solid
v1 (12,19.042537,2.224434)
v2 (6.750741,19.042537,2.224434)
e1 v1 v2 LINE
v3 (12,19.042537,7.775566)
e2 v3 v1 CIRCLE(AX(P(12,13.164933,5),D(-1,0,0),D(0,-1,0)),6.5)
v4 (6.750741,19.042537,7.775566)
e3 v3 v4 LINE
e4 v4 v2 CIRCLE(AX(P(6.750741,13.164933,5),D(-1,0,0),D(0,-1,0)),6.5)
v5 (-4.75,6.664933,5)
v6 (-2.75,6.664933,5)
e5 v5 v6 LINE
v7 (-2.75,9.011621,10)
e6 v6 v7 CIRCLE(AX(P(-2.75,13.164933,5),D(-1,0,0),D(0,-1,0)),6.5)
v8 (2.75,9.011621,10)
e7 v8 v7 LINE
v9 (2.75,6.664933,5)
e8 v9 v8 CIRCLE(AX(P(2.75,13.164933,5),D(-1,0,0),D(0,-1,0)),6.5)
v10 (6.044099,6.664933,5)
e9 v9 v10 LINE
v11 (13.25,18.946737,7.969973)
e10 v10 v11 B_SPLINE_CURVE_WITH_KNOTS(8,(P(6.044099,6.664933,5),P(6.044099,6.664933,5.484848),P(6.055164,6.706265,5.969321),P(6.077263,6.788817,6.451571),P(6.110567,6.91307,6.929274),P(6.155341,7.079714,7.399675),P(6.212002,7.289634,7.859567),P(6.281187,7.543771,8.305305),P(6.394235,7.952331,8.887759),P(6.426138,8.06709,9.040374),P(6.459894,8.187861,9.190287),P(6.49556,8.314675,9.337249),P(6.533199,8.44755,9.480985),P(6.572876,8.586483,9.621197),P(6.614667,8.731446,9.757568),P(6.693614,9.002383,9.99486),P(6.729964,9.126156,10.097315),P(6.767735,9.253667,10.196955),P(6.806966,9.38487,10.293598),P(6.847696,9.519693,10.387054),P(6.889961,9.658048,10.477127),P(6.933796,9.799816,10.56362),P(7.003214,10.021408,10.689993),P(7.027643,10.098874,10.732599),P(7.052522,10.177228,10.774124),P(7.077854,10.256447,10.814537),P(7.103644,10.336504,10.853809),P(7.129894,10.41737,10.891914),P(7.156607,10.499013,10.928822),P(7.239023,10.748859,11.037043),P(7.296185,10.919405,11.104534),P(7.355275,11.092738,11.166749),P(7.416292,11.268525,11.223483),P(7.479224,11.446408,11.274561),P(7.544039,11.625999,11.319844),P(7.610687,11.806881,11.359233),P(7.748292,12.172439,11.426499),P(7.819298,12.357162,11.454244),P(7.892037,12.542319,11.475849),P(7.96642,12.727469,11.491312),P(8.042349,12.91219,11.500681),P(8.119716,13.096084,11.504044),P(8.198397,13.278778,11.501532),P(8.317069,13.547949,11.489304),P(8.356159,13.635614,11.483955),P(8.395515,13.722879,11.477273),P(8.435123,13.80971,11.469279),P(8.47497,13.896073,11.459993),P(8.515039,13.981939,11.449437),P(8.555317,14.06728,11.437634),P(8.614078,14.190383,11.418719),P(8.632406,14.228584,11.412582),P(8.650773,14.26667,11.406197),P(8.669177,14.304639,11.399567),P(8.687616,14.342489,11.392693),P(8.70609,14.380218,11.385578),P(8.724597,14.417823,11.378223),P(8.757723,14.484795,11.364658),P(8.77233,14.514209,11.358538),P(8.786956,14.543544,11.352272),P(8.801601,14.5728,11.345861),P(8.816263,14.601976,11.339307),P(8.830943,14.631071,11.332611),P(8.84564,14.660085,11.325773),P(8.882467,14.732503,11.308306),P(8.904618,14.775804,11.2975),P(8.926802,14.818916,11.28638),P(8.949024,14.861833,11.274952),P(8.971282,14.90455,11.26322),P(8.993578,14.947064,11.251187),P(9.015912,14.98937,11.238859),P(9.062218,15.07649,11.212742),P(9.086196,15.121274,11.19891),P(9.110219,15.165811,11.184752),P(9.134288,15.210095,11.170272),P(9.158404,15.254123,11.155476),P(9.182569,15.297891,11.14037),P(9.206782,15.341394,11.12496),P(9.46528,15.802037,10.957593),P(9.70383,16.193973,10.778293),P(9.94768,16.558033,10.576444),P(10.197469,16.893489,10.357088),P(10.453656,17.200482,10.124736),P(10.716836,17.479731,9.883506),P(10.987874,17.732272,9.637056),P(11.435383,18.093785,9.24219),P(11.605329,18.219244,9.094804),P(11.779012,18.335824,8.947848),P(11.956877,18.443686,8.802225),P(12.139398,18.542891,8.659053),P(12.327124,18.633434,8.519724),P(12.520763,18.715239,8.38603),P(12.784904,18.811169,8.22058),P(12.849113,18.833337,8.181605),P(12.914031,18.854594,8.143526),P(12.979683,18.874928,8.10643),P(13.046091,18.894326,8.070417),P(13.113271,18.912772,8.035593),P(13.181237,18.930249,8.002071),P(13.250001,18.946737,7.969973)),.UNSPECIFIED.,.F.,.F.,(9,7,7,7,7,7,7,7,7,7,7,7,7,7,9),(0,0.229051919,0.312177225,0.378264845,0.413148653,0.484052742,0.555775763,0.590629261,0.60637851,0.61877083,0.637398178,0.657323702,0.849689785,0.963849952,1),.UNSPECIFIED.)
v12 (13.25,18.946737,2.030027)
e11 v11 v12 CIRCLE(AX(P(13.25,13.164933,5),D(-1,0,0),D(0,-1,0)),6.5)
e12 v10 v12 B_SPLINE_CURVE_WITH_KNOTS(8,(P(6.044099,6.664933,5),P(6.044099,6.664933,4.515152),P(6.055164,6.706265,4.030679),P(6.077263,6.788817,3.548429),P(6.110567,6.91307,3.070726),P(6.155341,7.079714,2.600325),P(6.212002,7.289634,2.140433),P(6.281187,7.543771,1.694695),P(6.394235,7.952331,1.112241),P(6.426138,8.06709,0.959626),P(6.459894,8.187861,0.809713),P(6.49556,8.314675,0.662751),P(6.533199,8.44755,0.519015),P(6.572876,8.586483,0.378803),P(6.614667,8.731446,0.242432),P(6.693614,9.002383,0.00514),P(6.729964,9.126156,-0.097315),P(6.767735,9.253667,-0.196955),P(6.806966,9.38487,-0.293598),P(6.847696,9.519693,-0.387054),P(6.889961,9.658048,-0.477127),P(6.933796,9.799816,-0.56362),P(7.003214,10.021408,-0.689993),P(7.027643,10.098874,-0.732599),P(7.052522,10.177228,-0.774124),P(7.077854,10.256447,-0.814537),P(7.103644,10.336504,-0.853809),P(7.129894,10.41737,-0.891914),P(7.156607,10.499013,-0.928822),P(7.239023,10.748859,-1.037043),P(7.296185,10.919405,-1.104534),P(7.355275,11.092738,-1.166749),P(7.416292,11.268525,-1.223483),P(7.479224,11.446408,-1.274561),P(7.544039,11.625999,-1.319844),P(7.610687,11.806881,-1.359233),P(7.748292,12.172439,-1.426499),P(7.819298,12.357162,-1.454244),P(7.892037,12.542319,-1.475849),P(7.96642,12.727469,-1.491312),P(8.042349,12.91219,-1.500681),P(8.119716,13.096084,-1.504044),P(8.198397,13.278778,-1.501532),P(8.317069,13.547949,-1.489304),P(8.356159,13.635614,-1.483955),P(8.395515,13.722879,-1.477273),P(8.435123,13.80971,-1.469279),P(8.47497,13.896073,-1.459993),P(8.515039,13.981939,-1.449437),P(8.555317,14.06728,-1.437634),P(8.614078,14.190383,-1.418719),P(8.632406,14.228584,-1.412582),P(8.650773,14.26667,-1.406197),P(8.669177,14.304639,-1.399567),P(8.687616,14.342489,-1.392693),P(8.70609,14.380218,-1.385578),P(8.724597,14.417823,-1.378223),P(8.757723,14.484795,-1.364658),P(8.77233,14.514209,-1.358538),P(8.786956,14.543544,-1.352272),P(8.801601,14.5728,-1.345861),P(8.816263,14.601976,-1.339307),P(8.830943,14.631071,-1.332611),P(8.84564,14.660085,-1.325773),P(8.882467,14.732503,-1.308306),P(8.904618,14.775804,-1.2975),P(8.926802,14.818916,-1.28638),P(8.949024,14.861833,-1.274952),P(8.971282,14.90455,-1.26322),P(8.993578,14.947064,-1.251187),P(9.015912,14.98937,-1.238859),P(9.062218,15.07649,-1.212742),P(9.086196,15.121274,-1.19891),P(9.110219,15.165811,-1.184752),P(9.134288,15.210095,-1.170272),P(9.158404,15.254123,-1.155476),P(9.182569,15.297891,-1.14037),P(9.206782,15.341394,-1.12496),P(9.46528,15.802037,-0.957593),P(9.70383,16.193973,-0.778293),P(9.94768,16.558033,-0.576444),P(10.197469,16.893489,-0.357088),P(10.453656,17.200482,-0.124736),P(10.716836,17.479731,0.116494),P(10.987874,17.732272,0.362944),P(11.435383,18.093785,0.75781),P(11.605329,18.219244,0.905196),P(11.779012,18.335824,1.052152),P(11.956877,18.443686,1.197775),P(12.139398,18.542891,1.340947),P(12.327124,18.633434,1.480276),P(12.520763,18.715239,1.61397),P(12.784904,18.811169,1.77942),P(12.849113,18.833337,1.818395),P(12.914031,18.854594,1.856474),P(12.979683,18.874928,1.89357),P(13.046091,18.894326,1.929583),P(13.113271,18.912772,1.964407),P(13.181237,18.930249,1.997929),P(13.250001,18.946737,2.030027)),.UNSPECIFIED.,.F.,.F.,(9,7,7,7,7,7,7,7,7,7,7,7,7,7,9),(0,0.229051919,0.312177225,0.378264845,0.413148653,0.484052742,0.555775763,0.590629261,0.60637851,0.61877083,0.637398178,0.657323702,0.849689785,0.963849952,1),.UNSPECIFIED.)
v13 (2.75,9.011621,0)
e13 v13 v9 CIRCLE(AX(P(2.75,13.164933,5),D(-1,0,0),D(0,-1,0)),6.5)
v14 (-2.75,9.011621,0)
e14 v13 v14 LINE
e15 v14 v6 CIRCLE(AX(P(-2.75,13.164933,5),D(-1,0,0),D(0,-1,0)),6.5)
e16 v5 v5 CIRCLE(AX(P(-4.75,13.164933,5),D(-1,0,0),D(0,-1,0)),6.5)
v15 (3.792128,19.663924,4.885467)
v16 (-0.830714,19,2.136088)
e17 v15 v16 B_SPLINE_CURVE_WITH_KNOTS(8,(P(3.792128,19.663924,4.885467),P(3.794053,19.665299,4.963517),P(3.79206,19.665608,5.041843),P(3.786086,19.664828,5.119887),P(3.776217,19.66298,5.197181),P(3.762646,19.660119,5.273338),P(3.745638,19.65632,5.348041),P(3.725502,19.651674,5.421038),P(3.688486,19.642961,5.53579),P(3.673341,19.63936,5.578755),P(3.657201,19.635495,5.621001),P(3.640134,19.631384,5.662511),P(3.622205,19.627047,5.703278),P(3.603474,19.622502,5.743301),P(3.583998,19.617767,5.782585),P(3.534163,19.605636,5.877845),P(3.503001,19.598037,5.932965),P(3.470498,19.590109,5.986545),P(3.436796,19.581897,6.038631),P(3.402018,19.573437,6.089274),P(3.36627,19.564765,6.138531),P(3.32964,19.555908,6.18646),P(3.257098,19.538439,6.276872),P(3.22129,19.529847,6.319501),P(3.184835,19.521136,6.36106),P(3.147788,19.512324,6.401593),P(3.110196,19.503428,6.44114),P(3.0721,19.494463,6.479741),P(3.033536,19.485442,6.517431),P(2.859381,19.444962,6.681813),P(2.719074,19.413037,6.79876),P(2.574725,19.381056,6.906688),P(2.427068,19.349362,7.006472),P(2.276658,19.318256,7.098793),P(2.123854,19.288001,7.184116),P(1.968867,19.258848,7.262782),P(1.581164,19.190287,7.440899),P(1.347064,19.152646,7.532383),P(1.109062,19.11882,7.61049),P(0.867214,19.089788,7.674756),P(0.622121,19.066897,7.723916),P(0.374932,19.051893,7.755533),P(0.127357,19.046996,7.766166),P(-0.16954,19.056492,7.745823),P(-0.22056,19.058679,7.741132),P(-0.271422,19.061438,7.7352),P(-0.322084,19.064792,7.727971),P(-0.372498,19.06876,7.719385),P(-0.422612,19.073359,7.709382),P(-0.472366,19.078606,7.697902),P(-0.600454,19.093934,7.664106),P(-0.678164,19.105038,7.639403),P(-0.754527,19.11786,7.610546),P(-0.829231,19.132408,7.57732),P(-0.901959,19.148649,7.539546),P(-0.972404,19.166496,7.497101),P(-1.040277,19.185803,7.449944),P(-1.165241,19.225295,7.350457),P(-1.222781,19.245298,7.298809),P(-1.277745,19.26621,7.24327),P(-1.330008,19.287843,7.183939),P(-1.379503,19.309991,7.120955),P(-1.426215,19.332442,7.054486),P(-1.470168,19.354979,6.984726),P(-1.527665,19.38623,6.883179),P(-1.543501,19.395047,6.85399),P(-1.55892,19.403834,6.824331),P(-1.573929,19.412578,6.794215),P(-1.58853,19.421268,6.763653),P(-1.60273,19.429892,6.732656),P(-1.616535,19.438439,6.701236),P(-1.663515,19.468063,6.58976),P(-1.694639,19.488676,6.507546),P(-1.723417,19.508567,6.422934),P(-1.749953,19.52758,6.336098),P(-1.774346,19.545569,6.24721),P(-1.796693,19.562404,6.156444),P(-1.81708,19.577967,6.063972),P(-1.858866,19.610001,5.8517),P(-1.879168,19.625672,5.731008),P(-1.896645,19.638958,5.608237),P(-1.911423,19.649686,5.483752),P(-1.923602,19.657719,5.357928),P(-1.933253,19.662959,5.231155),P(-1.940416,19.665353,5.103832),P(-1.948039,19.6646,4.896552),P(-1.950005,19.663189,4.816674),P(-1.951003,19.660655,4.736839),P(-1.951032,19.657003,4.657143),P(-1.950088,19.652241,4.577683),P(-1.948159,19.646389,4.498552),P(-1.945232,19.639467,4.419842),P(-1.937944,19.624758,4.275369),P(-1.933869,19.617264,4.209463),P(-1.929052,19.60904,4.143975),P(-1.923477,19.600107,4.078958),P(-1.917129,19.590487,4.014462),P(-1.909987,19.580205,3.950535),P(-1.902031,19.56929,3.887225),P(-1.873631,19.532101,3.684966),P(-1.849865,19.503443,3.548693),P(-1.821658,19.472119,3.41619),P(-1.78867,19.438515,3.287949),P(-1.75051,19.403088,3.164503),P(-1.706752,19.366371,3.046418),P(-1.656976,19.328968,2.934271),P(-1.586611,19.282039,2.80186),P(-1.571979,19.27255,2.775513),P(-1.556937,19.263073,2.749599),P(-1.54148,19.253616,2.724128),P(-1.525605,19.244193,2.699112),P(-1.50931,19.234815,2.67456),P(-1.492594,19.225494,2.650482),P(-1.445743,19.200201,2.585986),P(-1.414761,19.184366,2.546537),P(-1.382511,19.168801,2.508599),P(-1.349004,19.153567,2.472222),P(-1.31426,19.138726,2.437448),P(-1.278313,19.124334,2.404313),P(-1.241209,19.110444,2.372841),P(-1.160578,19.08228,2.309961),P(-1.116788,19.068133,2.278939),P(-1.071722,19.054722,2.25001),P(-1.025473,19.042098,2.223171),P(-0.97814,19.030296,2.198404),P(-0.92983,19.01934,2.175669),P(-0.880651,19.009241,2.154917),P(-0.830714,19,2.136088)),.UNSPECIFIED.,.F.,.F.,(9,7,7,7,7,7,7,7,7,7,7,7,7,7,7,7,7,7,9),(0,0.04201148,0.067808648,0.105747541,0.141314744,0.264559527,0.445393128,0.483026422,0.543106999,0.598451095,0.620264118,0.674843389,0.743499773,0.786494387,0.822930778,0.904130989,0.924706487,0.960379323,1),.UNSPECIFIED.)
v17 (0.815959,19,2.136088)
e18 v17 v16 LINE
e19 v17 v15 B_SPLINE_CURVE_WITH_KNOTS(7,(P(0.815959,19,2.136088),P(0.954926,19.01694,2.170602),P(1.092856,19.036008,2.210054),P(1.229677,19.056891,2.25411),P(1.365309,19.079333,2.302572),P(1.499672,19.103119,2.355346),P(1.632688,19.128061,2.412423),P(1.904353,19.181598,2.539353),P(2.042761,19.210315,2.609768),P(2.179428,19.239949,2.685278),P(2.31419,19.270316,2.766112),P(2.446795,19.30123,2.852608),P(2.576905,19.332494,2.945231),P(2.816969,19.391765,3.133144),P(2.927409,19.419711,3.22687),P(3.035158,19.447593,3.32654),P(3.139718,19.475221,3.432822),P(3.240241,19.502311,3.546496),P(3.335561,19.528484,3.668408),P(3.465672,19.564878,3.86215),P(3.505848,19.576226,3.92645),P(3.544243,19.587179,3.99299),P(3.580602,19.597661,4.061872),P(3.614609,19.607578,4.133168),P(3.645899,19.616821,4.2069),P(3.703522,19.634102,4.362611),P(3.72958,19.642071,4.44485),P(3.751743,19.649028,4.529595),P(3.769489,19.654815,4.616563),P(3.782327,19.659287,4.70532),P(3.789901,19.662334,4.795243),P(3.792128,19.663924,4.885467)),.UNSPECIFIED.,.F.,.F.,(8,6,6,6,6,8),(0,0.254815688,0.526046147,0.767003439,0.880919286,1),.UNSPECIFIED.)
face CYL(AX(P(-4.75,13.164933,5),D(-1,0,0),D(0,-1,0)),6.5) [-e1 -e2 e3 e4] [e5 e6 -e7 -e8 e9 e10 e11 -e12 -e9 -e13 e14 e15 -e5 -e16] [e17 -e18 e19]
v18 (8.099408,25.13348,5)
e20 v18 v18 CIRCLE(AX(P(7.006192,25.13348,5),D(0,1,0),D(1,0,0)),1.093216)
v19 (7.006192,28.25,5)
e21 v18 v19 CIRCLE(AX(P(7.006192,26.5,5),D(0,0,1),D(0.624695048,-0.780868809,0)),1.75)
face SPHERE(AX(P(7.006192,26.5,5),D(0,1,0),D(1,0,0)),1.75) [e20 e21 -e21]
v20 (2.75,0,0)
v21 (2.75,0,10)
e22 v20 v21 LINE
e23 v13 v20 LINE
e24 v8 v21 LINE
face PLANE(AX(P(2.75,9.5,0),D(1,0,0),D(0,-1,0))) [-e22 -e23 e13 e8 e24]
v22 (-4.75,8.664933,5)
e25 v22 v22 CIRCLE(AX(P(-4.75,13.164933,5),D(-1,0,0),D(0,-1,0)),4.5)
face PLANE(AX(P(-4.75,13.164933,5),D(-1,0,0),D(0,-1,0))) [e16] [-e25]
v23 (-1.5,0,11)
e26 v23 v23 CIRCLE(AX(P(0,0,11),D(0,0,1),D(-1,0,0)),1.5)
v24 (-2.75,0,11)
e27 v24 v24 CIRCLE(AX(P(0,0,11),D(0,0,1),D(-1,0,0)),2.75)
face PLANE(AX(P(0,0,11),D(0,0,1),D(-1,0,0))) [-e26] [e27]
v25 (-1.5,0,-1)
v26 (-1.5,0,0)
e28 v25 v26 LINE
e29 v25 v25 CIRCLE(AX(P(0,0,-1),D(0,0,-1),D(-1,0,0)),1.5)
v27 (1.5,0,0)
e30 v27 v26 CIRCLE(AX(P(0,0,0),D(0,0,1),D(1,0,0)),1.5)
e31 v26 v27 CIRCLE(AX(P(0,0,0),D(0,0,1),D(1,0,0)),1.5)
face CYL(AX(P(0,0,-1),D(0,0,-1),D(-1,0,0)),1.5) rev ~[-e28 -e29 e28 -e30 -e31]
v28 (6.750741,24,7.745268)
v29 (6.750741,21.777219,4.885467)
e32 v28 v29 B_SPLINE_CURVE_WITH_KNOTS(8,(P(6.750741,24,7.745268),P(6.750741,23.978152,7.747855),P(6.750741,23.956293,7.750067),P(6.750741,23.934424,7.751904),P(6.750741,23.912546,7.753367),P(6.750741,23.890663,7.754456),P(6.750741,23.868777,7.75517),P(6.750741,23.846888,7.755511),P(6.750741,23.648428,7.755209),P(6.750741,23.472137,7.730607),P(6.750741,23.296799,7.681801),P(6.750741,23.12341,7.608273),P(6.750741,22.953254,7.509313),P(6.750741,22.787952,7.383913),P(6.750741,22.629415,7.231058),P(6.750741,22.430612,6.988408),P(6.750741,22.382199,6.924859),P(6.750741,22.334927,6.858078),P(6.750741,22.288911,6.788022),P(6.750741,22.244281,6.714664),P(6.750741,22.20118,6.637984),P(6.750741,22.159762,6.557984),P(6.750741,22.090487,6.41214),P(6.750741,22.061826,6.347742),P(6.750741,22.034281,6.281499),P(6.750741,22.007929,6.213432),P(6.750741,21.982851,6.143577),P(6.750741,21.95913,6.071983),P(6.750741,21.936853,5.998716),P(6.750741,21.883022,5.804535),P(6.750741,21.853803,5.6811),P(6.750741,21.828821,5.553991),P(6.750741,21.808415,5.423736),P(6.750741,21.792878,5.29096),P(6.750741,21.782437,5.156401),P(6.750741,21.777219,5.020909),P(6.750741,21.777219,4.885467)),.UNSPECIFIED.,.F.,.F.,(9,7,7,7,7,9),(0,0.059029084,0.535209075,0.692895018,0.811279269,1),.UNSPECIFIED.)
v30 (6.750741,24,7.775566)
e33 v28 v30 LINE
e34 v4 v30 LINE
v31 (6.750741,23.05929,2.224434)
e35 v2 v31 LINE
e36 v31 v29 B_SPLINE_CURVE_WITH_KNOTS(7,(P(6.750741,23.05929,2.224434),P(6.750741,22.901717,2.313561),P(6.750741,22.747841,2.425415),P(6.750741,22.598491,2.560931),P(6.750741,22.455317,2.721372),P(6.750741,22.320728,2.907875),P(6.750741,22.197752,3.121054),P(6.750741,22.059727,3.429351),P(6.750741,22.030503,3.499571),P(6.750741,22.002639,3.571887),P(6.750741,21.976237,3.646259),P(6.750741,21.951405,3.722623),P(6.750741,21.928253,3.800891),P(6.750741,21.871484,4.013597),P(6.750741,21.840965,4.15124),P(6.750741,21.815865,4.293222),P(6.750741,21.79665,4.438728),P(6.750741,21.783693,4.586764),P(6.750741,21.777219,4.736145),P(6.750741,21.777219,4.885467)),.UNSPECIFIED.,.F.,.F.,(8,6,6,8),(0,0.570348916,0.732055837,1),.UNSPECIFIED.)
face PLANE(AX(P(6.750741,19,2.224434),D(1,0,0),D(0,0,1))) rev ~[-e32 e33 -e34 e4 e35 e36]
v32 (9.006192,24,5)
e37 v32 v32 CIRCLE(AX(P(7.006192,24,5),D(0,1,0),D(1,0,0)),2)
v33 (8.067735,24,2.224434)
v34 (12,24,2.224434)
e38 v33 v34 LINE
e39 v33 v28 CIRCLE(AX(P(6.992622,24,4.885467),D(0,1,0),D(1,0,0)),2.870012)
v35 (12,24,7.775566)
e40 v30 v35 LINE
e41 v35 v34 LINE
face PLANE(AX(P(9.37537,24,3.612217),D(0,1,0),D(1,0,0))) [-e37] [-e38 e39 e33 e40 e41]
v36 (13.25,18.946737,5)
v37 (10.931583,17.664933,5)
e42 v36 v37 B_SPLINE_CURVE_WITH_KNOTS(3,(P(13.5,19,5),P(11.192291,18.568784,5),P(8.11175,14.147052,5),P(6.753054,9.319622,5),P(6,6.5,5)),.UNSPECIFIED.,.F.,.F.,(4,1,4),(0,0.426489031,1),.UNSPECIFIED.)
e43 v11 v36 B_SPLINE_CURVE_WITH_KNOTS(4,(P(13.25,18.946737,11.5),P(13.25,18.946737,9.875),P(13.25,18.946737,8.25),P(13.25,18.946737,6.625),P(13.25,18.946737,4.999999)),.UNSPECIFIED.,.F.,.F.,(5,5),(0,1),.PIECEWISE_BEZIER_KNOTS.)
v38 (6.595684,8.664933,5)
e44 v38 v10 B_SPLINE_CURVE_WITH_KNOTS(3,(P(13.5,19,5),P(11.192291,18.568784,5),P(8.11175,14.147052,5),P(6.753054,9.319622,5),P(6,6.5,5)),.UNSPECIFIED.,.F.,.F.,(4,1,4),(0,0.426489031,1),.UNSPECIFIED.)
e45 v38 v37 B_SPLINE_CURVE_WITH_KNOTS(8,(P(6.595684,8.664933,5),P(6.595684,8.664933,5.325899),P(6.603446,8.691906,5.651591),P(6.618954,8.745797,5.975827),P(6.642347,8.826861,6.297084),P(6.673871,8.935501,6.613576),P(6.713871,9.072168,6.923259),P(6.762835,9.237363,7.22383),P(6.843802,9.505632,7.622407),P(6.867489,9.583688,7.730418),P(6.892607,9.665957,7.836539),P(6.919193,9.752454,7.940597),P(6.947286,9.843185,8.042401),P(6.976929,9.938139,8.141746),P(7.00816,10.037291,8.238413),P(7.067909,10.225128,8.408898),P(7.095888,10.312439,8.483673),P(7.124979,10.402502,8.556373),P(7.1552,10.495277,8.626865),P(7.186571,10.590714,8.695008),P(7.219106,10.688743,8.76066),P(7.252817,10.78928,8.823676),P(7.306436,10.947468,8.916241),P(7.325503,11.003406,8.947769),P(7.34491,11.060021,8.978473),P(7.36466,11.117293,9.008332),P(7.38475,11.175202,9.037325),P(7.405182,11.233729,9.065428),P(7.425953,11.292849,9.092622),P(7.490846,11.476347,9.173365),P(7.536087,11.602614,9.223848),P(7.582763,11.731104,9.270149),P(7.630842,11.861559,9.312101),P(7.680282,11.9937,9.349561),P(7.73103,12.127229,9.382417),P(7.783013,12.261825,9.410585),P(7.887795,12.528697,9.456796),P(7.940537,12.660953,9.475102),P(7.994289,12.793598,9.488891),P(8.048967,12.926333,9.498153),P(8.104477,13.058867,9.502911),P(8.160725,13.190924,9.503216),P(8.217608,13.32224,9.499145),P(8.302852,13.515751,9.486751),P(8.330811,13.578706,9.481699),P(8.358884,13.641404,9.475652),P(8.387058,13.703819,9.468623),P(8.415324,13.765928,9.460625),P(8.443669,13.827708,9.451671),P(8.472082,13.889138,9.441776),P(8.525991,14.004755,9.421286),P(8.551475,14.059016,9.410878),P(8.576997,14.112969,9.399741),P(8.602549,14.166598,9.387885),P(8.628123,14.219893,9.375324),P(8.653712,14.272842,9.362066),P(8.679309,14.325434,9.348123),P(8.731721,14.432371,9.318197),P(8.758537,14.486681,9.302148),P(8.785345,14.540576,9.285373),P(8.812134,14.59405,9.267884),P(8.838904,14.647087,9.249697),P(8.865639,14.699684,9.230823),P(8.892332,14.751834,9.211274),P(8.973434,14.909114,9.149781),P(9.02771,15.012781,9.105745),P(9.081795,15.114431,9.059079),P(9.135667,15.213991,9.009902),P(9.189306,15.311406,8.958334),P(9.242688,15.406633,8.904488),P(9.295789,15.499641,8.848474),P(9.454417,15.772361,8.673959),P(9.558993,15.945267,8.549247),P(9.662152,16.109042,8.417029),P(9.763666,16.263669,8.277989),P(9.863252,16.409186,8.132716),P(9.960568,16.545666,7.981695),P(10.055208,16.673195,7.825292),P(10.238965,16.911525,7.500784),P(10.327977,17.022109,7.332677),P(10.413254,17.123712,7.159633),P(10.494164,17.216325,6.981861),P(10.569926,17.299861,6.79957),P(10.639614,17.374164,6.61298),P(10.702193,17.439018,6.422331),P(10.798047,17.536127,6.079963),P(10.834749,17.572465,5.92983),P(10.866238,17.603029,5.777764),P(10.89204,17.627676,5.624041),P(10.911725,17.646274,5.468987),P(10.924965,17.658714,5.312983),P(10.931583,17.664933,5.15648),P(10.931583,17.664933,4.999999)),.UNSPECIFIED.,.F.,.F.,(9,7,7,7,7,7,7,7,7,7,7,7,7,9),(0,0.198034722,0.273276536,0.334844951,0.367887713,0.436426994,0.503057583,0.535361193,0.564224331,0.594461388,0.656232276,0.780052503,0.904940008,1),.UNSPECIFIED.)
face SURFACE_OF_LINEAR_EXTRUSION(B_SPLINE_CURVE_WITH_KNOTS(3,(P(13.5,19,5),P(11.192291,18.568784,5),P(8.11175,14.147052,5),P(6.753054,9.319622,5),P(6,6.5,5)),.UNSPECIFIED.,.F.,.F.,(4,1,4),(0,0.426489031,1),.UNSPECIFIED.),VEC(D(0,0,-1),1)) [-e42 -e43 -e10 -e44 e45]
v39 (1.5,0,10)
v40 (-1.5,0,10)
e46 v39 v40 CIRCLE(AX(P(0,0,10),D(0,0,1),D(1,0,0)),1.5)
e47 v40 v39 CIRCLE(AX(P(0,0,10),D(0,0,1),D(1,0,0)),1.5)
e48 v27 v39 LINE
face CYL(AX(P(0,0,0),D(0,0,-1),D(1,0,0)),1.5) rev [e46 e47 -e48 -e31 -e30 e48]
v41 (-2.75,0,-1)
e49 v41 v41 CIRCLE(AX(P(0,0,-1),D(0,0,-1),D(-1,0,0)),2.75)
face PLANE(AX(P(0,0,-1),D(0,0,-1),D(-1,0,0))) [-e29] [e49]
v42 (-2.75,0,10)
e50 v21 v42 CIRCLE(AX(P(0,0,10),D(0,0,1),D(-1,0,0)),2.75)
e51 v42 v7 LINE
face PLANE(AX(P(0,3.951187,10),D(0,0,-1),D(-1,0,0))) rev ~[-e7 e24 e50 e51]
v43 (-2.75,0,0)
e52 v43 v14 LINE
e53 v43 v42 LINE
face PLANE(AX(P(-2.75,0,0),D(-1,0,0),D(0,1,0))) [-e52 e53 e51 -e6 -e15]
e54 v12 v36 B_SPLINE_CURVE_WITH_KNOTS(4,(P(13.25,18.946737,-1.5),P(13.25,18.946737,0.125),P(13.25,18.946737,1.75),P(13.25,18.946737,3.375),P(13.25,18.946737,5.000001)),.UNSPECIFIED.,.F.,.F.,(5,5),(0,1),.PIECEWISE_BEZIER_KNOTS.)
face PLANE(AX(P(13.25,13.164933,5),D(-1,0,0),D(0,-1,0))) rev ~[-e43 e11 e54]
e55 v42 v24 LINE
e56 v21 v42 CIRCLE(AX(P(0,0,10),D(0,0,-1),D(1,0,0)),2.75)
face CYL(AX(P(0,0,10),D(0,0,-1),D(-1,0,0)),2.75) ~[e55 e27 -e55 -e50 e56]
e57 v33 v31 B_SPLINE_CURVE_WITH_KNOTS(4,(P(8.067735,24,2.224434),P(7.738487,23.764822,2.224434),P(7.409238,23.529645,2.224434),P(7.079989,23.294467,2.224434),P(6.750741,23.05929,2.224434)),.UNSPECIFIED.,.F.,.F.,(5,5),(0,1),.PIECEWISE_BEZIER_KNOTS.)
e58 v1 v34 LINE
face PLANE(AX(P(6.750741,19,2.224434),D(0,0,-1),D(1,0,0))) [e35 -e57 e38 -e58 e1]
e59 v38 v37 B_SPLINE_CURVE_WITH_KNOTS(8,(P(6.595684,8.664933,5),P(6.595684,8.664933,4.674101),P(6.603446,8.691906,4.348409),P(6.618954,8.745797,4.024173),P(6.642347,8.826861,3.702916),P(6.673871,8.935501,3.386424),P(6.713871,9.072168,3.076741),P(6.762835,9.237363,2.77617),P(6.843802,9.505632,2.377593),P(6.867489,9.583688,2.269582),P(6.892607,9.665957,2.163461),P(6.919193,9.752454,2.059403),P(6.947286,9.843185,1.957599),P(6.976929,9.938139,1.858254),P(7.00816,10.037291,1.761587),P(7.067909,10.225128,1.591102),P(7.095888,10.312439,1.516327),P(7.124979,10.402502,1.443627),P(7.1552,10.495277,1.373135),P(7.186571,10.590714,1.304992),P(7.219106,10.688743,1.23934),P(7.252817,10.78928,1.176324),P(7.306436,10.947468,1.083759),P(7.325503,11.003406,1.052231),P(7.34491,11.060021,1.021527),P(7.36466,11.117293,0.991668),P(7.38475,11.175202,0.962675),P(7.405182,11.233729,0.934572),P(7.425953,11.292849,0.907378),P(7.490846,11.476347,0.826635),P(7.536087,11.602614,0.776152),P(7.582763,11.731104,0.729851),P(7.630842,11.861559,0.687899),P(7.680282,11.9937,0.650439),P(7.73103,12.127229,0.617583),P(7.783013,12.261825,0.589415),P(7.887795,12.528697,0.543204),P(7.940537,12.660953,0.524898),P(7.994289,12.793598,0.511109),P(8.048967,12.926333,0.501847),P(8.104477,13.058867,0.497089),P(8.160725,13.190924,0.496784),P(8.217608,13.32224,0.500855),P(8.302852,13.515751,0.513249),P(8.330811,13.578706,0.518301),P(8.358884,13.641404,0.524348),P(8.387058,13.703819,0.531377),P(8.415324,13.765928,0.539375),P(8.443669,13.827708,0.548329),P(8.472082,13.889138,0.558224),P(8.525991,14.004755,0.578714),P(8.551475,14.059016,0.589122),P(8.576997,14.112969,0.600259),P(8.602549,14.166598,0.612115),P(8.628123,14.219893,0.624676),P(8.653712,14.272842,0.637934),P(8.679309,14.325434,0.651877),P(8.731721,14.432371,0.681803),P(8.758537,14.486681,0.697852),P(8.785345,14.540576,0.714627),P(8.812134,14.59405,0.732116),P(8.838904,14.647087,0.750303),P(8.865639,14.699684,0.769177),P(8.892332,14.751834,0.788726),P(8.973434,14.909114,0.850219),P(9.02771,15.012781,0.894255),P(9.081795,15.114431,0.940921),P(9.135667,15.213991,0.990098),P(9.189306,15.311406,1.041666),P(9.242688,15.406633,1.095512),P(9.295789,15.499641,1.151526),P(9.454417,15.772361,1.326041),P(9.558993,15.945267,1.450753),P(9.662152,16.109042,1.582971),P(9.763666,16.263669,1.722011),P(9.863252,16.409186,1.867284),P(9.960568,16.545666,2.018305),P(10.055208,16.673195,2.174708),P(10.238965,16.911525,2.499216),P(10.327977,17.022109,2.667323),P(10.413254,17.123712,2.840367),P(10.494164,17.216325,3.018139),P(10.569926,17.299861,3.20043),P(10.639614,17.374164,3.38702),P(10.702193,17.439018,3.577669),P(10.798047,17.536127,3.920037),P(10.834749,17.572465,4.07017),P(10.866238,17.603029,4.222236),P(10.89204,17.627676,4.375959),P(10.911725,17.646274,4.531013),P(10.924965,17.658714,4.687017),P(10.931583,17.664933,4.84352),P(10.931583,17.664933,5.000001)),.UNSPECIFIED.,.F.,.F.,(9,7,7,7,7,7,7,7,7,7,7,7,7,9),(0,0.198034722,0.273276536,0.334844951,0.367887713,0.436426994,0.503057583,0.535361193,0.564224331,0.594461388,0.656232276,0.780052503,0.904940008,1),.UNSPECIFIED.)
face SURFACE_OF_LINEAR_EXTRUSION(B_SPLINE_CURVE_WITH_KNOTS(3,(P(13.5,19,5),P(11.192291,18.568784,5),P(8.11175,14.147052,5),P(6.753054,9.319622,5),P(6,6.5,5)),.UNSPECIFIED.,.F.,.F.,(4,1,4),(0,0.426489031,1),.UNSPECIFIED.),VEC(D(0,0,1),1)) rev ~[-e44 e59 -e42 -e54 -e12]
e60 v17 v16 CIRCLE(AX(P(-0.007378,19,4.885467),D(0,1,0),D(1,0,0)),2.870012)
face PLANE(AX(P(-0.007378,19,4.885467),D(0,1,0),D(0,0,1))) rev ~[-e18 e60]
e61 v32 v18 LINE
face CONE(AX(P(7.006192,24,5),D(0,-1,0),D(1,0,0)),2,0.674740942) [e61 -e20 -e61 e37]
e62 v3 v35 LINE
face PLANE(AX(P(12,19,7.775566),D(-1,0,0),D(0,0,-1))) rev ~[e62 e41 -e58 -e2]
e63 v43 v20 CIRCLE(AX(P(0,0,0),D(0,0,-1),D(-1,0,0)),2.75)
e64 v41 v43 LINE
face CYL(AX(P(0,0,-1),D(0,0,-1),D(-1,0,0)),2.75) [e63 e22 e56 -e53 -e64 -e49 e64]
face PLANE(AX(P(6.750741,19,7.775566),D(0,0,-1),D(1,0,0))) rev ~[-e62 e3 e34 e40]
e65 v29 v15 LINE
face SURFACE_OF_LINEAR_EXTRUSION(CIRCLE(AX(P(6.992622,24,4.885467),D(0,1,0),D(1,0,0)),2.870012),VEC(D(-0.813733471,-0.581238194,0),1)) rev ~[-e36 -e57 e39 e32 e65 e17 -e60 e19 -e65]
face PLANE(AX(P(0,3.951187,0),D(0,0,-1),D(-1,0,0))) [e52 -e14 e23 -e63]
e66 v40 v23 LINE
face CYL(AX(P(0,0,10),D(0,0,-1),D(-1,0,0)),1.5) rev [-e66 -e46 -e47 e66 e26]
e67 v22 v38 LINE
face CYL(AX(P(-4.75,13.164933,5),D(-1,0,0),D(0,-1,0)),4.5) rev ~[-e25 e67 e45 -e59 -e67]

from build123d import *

# Parameters (mm, degrees)
SKETCH_1_R          = 1.5000000000000002
EXTRUDE_1_DEPTH     = 10
EXTRUDE_START       = 1
SKETCH_2_R          = 2.75
SKETCH_2_R_2        = 1.5000000000000002
EXTRUDE_2_DEPTH     = 1
SKETCH_3_R          = 2.75
SKETCH_3_R_2        = 1.5000000000000002
EXTRUDE_3_DEPTH     = 1
SKETCH_5_R          = 6.5
EXTRUDE_4_DEPTH     = 18
SKETCH_7_R          = 4.499999999999999
CUT_EXTRUDE_1_DEPTH = 18
SKETCH_9_R          = 2.8700119692288277
SKETCH_12_W         = 5.249259279764373
SKETCH_12_H         = 2.7755664511126334
SKETCH_12_H_2       = 2.7755664511126383
EXTRUDE_5_DEPTH     = 5
CUT_EXTRUDE_2_DEPTH = 20


with BuildPart() as part:
    # 草图1 → 凸台-拉伸1 (new body)
    with BuildSketch(Plane.XY):
        with BuildLine():
            Line((-2.75, 0), (-2.7500000000000004, 9.5))
            Line((-2.7500000000000004, 9.5), (2.7500000000000004, 9.5))
            Line((2.7500000000000004, 9.5), (2.75, 0))
            ThreePointArc((2.75, 0), (-5.1e-16, -2.75), (-2.75, 0))
        make_face()
        Circle(SKETCH_1_R, mode=Mode.SUBTRACT)
    extrude(amount=EXTRUDE_1_DEPTH)

    # 草图2 → 凸台-拉伸2 (add)
    with BuildSketch(Plane(origin=(0, 0, 0), x_dir=(-1, 0, 0), z_dir=(0, 0, -1)).offset(EXTRUDE_START)):
        Circle(SKETCH_2_R)
        Circle(SKETCH_2_R_2, mode=Mode.SUBTRACT)
    extrude(amount=-EXTRUDE_2_DEPTH)

    # 草图3 → 凸台-拉伸3 (add)
    with BuildSketch(Plane.XY.offset(10)):
        with Locations(Location((0, 0, 0), (0, 0, 180))):
            Circle(SKETCH_3_R)
        with Locations(Location((0, 0, 0), (0, 0, 180))):
            Circle(SKETCH_3_R_2, mode=Mode.SUBTRACT)
    extrude(amount=EXTRUDE_3_DEPTH)

    # 草图5 → 凸台-拉伸4 (add)
    with BuildSketch(Plane.ZY.offset(4.75)):
        with Locations(Location((5, 13.164932727725386, 0), (0, 0, 270))):
            Circle(SKETCH_5_R)
    extrude(amount=-EXTRUDE_4_DEPTH)

    # 草图7 → 切除-拉伸1 (cut)
    with BuildSketch(Plane.ZY.offset(4.75)):
        with Locations(Location((5, 13.164932727725386, 0), (0, 0, 270))):
            Circle(SKETCH_7_R)
    extrude(amount=-CUT_EXTRUDE_1_DEPTH, mode=Mode.SUBTRACT)

    # 扫描2: sweep along a path in 草图11
    with BuildLine(Plane(origin=(0, 0, 5), x_dir=(-1, 0, 0), z_dir=(0, 0, -1))) as sweep_2_path:
        Line((-7, 24), (0, 19))
    # 草图9 → 扫描2 (sweep)
    with BuildSketch(Plane(origin=(0, 19, 0), x_dir=(1, 0, 0), z_dir=(0, 1, 0))):
        with Locations((-0.00737750074134282, -4.885467390073623)):
            Circle(SKETCH_9_R)
    sweep(path=sweep_2_path.line)

    # 草图12 → 凸台-拉伸5 (add)
    with BuildSketch(Plane(origin=(0, 19, 0), x_dir=(1, 0, 0), z_dir=(0, 1, 0))):
        with Locations((9.375370360117813, -3.6122167744436835)):
            Rectangle(SKETCH_12_W, SKETCH_12_H)
        with Locations((9.375370360117813, -6.387783225556319)):
            Rectangle(SKETCH_12_W, SKETCH_12_H_2)
    extrude(amount=EXTRUDE_5_DEPTH)

    # 草图13 → 旋转1 (revolve)
    with BuildSketch(Plane(origin=(0, 0, 5), x_dir=(-1, 0, 0), z_dir=(0, 0, -1)), mode=Mode.PRIVATE) as revolve_1_sk:
        with BuildLine():
            Line((-7.006191849278699, 24), (-5.006191849278698, 24))
            Line((-5.006191849278698, 24), (-5.912975516058456, 25.133479583474696))
            ThreePointArc((-5.912975516058456, 25.133479583474696), (-5.354842290747966, 27.079262147512125), (-7.006191849278699, 28.25))
            Line((-7.006191849278699, 28.25), (-7.006191849278698, 26.5))
            Line((-7.006191849278698, 26.5), (-7.006191849278699, 24))
        make_face()
    revolve(revolve_1_sk.sketch.rotate(Axis((7.006191849278698, 26.5, 5), (5e-16, 1, 0)), 180), axis=Axis((7.006191849278698, 26.5, 5), (5e-16, 1, 0)))

    # 草图14 → 切除-拉伸2 (cut, symmetric)
    with BuildSketch(Plane(origin=(0, 0, 5), x_dir=(-1, 0, 0), z_dir=(0, 0, -1))):
        with BuildLine():
            Line((-13.5, 19), (-13.5, 6.499999999999999))
            Line((-13.5, 6.499999999999999), (-6.000000000000001, 6.499999999999999))
            add(Edge.make_bspline(
                [(-13.5, 19), (-11.192290817282267, 18.56878443157226), (-8.111749647069864, 14.147051950991559), (-6.7530537895194716, 9.319622020478048), (-6.000000000000001, 6.499999999999999)],
                knots=[0, 0, 0, 0, 0.42648903061023624, 1, 1, 1, 1], degree=3))
        make_face()
    extrude(amount=CUT_EXTRUDE_2_DEPTH, both=True, mode=Mode.SUBTRACT)


solid = part.part
